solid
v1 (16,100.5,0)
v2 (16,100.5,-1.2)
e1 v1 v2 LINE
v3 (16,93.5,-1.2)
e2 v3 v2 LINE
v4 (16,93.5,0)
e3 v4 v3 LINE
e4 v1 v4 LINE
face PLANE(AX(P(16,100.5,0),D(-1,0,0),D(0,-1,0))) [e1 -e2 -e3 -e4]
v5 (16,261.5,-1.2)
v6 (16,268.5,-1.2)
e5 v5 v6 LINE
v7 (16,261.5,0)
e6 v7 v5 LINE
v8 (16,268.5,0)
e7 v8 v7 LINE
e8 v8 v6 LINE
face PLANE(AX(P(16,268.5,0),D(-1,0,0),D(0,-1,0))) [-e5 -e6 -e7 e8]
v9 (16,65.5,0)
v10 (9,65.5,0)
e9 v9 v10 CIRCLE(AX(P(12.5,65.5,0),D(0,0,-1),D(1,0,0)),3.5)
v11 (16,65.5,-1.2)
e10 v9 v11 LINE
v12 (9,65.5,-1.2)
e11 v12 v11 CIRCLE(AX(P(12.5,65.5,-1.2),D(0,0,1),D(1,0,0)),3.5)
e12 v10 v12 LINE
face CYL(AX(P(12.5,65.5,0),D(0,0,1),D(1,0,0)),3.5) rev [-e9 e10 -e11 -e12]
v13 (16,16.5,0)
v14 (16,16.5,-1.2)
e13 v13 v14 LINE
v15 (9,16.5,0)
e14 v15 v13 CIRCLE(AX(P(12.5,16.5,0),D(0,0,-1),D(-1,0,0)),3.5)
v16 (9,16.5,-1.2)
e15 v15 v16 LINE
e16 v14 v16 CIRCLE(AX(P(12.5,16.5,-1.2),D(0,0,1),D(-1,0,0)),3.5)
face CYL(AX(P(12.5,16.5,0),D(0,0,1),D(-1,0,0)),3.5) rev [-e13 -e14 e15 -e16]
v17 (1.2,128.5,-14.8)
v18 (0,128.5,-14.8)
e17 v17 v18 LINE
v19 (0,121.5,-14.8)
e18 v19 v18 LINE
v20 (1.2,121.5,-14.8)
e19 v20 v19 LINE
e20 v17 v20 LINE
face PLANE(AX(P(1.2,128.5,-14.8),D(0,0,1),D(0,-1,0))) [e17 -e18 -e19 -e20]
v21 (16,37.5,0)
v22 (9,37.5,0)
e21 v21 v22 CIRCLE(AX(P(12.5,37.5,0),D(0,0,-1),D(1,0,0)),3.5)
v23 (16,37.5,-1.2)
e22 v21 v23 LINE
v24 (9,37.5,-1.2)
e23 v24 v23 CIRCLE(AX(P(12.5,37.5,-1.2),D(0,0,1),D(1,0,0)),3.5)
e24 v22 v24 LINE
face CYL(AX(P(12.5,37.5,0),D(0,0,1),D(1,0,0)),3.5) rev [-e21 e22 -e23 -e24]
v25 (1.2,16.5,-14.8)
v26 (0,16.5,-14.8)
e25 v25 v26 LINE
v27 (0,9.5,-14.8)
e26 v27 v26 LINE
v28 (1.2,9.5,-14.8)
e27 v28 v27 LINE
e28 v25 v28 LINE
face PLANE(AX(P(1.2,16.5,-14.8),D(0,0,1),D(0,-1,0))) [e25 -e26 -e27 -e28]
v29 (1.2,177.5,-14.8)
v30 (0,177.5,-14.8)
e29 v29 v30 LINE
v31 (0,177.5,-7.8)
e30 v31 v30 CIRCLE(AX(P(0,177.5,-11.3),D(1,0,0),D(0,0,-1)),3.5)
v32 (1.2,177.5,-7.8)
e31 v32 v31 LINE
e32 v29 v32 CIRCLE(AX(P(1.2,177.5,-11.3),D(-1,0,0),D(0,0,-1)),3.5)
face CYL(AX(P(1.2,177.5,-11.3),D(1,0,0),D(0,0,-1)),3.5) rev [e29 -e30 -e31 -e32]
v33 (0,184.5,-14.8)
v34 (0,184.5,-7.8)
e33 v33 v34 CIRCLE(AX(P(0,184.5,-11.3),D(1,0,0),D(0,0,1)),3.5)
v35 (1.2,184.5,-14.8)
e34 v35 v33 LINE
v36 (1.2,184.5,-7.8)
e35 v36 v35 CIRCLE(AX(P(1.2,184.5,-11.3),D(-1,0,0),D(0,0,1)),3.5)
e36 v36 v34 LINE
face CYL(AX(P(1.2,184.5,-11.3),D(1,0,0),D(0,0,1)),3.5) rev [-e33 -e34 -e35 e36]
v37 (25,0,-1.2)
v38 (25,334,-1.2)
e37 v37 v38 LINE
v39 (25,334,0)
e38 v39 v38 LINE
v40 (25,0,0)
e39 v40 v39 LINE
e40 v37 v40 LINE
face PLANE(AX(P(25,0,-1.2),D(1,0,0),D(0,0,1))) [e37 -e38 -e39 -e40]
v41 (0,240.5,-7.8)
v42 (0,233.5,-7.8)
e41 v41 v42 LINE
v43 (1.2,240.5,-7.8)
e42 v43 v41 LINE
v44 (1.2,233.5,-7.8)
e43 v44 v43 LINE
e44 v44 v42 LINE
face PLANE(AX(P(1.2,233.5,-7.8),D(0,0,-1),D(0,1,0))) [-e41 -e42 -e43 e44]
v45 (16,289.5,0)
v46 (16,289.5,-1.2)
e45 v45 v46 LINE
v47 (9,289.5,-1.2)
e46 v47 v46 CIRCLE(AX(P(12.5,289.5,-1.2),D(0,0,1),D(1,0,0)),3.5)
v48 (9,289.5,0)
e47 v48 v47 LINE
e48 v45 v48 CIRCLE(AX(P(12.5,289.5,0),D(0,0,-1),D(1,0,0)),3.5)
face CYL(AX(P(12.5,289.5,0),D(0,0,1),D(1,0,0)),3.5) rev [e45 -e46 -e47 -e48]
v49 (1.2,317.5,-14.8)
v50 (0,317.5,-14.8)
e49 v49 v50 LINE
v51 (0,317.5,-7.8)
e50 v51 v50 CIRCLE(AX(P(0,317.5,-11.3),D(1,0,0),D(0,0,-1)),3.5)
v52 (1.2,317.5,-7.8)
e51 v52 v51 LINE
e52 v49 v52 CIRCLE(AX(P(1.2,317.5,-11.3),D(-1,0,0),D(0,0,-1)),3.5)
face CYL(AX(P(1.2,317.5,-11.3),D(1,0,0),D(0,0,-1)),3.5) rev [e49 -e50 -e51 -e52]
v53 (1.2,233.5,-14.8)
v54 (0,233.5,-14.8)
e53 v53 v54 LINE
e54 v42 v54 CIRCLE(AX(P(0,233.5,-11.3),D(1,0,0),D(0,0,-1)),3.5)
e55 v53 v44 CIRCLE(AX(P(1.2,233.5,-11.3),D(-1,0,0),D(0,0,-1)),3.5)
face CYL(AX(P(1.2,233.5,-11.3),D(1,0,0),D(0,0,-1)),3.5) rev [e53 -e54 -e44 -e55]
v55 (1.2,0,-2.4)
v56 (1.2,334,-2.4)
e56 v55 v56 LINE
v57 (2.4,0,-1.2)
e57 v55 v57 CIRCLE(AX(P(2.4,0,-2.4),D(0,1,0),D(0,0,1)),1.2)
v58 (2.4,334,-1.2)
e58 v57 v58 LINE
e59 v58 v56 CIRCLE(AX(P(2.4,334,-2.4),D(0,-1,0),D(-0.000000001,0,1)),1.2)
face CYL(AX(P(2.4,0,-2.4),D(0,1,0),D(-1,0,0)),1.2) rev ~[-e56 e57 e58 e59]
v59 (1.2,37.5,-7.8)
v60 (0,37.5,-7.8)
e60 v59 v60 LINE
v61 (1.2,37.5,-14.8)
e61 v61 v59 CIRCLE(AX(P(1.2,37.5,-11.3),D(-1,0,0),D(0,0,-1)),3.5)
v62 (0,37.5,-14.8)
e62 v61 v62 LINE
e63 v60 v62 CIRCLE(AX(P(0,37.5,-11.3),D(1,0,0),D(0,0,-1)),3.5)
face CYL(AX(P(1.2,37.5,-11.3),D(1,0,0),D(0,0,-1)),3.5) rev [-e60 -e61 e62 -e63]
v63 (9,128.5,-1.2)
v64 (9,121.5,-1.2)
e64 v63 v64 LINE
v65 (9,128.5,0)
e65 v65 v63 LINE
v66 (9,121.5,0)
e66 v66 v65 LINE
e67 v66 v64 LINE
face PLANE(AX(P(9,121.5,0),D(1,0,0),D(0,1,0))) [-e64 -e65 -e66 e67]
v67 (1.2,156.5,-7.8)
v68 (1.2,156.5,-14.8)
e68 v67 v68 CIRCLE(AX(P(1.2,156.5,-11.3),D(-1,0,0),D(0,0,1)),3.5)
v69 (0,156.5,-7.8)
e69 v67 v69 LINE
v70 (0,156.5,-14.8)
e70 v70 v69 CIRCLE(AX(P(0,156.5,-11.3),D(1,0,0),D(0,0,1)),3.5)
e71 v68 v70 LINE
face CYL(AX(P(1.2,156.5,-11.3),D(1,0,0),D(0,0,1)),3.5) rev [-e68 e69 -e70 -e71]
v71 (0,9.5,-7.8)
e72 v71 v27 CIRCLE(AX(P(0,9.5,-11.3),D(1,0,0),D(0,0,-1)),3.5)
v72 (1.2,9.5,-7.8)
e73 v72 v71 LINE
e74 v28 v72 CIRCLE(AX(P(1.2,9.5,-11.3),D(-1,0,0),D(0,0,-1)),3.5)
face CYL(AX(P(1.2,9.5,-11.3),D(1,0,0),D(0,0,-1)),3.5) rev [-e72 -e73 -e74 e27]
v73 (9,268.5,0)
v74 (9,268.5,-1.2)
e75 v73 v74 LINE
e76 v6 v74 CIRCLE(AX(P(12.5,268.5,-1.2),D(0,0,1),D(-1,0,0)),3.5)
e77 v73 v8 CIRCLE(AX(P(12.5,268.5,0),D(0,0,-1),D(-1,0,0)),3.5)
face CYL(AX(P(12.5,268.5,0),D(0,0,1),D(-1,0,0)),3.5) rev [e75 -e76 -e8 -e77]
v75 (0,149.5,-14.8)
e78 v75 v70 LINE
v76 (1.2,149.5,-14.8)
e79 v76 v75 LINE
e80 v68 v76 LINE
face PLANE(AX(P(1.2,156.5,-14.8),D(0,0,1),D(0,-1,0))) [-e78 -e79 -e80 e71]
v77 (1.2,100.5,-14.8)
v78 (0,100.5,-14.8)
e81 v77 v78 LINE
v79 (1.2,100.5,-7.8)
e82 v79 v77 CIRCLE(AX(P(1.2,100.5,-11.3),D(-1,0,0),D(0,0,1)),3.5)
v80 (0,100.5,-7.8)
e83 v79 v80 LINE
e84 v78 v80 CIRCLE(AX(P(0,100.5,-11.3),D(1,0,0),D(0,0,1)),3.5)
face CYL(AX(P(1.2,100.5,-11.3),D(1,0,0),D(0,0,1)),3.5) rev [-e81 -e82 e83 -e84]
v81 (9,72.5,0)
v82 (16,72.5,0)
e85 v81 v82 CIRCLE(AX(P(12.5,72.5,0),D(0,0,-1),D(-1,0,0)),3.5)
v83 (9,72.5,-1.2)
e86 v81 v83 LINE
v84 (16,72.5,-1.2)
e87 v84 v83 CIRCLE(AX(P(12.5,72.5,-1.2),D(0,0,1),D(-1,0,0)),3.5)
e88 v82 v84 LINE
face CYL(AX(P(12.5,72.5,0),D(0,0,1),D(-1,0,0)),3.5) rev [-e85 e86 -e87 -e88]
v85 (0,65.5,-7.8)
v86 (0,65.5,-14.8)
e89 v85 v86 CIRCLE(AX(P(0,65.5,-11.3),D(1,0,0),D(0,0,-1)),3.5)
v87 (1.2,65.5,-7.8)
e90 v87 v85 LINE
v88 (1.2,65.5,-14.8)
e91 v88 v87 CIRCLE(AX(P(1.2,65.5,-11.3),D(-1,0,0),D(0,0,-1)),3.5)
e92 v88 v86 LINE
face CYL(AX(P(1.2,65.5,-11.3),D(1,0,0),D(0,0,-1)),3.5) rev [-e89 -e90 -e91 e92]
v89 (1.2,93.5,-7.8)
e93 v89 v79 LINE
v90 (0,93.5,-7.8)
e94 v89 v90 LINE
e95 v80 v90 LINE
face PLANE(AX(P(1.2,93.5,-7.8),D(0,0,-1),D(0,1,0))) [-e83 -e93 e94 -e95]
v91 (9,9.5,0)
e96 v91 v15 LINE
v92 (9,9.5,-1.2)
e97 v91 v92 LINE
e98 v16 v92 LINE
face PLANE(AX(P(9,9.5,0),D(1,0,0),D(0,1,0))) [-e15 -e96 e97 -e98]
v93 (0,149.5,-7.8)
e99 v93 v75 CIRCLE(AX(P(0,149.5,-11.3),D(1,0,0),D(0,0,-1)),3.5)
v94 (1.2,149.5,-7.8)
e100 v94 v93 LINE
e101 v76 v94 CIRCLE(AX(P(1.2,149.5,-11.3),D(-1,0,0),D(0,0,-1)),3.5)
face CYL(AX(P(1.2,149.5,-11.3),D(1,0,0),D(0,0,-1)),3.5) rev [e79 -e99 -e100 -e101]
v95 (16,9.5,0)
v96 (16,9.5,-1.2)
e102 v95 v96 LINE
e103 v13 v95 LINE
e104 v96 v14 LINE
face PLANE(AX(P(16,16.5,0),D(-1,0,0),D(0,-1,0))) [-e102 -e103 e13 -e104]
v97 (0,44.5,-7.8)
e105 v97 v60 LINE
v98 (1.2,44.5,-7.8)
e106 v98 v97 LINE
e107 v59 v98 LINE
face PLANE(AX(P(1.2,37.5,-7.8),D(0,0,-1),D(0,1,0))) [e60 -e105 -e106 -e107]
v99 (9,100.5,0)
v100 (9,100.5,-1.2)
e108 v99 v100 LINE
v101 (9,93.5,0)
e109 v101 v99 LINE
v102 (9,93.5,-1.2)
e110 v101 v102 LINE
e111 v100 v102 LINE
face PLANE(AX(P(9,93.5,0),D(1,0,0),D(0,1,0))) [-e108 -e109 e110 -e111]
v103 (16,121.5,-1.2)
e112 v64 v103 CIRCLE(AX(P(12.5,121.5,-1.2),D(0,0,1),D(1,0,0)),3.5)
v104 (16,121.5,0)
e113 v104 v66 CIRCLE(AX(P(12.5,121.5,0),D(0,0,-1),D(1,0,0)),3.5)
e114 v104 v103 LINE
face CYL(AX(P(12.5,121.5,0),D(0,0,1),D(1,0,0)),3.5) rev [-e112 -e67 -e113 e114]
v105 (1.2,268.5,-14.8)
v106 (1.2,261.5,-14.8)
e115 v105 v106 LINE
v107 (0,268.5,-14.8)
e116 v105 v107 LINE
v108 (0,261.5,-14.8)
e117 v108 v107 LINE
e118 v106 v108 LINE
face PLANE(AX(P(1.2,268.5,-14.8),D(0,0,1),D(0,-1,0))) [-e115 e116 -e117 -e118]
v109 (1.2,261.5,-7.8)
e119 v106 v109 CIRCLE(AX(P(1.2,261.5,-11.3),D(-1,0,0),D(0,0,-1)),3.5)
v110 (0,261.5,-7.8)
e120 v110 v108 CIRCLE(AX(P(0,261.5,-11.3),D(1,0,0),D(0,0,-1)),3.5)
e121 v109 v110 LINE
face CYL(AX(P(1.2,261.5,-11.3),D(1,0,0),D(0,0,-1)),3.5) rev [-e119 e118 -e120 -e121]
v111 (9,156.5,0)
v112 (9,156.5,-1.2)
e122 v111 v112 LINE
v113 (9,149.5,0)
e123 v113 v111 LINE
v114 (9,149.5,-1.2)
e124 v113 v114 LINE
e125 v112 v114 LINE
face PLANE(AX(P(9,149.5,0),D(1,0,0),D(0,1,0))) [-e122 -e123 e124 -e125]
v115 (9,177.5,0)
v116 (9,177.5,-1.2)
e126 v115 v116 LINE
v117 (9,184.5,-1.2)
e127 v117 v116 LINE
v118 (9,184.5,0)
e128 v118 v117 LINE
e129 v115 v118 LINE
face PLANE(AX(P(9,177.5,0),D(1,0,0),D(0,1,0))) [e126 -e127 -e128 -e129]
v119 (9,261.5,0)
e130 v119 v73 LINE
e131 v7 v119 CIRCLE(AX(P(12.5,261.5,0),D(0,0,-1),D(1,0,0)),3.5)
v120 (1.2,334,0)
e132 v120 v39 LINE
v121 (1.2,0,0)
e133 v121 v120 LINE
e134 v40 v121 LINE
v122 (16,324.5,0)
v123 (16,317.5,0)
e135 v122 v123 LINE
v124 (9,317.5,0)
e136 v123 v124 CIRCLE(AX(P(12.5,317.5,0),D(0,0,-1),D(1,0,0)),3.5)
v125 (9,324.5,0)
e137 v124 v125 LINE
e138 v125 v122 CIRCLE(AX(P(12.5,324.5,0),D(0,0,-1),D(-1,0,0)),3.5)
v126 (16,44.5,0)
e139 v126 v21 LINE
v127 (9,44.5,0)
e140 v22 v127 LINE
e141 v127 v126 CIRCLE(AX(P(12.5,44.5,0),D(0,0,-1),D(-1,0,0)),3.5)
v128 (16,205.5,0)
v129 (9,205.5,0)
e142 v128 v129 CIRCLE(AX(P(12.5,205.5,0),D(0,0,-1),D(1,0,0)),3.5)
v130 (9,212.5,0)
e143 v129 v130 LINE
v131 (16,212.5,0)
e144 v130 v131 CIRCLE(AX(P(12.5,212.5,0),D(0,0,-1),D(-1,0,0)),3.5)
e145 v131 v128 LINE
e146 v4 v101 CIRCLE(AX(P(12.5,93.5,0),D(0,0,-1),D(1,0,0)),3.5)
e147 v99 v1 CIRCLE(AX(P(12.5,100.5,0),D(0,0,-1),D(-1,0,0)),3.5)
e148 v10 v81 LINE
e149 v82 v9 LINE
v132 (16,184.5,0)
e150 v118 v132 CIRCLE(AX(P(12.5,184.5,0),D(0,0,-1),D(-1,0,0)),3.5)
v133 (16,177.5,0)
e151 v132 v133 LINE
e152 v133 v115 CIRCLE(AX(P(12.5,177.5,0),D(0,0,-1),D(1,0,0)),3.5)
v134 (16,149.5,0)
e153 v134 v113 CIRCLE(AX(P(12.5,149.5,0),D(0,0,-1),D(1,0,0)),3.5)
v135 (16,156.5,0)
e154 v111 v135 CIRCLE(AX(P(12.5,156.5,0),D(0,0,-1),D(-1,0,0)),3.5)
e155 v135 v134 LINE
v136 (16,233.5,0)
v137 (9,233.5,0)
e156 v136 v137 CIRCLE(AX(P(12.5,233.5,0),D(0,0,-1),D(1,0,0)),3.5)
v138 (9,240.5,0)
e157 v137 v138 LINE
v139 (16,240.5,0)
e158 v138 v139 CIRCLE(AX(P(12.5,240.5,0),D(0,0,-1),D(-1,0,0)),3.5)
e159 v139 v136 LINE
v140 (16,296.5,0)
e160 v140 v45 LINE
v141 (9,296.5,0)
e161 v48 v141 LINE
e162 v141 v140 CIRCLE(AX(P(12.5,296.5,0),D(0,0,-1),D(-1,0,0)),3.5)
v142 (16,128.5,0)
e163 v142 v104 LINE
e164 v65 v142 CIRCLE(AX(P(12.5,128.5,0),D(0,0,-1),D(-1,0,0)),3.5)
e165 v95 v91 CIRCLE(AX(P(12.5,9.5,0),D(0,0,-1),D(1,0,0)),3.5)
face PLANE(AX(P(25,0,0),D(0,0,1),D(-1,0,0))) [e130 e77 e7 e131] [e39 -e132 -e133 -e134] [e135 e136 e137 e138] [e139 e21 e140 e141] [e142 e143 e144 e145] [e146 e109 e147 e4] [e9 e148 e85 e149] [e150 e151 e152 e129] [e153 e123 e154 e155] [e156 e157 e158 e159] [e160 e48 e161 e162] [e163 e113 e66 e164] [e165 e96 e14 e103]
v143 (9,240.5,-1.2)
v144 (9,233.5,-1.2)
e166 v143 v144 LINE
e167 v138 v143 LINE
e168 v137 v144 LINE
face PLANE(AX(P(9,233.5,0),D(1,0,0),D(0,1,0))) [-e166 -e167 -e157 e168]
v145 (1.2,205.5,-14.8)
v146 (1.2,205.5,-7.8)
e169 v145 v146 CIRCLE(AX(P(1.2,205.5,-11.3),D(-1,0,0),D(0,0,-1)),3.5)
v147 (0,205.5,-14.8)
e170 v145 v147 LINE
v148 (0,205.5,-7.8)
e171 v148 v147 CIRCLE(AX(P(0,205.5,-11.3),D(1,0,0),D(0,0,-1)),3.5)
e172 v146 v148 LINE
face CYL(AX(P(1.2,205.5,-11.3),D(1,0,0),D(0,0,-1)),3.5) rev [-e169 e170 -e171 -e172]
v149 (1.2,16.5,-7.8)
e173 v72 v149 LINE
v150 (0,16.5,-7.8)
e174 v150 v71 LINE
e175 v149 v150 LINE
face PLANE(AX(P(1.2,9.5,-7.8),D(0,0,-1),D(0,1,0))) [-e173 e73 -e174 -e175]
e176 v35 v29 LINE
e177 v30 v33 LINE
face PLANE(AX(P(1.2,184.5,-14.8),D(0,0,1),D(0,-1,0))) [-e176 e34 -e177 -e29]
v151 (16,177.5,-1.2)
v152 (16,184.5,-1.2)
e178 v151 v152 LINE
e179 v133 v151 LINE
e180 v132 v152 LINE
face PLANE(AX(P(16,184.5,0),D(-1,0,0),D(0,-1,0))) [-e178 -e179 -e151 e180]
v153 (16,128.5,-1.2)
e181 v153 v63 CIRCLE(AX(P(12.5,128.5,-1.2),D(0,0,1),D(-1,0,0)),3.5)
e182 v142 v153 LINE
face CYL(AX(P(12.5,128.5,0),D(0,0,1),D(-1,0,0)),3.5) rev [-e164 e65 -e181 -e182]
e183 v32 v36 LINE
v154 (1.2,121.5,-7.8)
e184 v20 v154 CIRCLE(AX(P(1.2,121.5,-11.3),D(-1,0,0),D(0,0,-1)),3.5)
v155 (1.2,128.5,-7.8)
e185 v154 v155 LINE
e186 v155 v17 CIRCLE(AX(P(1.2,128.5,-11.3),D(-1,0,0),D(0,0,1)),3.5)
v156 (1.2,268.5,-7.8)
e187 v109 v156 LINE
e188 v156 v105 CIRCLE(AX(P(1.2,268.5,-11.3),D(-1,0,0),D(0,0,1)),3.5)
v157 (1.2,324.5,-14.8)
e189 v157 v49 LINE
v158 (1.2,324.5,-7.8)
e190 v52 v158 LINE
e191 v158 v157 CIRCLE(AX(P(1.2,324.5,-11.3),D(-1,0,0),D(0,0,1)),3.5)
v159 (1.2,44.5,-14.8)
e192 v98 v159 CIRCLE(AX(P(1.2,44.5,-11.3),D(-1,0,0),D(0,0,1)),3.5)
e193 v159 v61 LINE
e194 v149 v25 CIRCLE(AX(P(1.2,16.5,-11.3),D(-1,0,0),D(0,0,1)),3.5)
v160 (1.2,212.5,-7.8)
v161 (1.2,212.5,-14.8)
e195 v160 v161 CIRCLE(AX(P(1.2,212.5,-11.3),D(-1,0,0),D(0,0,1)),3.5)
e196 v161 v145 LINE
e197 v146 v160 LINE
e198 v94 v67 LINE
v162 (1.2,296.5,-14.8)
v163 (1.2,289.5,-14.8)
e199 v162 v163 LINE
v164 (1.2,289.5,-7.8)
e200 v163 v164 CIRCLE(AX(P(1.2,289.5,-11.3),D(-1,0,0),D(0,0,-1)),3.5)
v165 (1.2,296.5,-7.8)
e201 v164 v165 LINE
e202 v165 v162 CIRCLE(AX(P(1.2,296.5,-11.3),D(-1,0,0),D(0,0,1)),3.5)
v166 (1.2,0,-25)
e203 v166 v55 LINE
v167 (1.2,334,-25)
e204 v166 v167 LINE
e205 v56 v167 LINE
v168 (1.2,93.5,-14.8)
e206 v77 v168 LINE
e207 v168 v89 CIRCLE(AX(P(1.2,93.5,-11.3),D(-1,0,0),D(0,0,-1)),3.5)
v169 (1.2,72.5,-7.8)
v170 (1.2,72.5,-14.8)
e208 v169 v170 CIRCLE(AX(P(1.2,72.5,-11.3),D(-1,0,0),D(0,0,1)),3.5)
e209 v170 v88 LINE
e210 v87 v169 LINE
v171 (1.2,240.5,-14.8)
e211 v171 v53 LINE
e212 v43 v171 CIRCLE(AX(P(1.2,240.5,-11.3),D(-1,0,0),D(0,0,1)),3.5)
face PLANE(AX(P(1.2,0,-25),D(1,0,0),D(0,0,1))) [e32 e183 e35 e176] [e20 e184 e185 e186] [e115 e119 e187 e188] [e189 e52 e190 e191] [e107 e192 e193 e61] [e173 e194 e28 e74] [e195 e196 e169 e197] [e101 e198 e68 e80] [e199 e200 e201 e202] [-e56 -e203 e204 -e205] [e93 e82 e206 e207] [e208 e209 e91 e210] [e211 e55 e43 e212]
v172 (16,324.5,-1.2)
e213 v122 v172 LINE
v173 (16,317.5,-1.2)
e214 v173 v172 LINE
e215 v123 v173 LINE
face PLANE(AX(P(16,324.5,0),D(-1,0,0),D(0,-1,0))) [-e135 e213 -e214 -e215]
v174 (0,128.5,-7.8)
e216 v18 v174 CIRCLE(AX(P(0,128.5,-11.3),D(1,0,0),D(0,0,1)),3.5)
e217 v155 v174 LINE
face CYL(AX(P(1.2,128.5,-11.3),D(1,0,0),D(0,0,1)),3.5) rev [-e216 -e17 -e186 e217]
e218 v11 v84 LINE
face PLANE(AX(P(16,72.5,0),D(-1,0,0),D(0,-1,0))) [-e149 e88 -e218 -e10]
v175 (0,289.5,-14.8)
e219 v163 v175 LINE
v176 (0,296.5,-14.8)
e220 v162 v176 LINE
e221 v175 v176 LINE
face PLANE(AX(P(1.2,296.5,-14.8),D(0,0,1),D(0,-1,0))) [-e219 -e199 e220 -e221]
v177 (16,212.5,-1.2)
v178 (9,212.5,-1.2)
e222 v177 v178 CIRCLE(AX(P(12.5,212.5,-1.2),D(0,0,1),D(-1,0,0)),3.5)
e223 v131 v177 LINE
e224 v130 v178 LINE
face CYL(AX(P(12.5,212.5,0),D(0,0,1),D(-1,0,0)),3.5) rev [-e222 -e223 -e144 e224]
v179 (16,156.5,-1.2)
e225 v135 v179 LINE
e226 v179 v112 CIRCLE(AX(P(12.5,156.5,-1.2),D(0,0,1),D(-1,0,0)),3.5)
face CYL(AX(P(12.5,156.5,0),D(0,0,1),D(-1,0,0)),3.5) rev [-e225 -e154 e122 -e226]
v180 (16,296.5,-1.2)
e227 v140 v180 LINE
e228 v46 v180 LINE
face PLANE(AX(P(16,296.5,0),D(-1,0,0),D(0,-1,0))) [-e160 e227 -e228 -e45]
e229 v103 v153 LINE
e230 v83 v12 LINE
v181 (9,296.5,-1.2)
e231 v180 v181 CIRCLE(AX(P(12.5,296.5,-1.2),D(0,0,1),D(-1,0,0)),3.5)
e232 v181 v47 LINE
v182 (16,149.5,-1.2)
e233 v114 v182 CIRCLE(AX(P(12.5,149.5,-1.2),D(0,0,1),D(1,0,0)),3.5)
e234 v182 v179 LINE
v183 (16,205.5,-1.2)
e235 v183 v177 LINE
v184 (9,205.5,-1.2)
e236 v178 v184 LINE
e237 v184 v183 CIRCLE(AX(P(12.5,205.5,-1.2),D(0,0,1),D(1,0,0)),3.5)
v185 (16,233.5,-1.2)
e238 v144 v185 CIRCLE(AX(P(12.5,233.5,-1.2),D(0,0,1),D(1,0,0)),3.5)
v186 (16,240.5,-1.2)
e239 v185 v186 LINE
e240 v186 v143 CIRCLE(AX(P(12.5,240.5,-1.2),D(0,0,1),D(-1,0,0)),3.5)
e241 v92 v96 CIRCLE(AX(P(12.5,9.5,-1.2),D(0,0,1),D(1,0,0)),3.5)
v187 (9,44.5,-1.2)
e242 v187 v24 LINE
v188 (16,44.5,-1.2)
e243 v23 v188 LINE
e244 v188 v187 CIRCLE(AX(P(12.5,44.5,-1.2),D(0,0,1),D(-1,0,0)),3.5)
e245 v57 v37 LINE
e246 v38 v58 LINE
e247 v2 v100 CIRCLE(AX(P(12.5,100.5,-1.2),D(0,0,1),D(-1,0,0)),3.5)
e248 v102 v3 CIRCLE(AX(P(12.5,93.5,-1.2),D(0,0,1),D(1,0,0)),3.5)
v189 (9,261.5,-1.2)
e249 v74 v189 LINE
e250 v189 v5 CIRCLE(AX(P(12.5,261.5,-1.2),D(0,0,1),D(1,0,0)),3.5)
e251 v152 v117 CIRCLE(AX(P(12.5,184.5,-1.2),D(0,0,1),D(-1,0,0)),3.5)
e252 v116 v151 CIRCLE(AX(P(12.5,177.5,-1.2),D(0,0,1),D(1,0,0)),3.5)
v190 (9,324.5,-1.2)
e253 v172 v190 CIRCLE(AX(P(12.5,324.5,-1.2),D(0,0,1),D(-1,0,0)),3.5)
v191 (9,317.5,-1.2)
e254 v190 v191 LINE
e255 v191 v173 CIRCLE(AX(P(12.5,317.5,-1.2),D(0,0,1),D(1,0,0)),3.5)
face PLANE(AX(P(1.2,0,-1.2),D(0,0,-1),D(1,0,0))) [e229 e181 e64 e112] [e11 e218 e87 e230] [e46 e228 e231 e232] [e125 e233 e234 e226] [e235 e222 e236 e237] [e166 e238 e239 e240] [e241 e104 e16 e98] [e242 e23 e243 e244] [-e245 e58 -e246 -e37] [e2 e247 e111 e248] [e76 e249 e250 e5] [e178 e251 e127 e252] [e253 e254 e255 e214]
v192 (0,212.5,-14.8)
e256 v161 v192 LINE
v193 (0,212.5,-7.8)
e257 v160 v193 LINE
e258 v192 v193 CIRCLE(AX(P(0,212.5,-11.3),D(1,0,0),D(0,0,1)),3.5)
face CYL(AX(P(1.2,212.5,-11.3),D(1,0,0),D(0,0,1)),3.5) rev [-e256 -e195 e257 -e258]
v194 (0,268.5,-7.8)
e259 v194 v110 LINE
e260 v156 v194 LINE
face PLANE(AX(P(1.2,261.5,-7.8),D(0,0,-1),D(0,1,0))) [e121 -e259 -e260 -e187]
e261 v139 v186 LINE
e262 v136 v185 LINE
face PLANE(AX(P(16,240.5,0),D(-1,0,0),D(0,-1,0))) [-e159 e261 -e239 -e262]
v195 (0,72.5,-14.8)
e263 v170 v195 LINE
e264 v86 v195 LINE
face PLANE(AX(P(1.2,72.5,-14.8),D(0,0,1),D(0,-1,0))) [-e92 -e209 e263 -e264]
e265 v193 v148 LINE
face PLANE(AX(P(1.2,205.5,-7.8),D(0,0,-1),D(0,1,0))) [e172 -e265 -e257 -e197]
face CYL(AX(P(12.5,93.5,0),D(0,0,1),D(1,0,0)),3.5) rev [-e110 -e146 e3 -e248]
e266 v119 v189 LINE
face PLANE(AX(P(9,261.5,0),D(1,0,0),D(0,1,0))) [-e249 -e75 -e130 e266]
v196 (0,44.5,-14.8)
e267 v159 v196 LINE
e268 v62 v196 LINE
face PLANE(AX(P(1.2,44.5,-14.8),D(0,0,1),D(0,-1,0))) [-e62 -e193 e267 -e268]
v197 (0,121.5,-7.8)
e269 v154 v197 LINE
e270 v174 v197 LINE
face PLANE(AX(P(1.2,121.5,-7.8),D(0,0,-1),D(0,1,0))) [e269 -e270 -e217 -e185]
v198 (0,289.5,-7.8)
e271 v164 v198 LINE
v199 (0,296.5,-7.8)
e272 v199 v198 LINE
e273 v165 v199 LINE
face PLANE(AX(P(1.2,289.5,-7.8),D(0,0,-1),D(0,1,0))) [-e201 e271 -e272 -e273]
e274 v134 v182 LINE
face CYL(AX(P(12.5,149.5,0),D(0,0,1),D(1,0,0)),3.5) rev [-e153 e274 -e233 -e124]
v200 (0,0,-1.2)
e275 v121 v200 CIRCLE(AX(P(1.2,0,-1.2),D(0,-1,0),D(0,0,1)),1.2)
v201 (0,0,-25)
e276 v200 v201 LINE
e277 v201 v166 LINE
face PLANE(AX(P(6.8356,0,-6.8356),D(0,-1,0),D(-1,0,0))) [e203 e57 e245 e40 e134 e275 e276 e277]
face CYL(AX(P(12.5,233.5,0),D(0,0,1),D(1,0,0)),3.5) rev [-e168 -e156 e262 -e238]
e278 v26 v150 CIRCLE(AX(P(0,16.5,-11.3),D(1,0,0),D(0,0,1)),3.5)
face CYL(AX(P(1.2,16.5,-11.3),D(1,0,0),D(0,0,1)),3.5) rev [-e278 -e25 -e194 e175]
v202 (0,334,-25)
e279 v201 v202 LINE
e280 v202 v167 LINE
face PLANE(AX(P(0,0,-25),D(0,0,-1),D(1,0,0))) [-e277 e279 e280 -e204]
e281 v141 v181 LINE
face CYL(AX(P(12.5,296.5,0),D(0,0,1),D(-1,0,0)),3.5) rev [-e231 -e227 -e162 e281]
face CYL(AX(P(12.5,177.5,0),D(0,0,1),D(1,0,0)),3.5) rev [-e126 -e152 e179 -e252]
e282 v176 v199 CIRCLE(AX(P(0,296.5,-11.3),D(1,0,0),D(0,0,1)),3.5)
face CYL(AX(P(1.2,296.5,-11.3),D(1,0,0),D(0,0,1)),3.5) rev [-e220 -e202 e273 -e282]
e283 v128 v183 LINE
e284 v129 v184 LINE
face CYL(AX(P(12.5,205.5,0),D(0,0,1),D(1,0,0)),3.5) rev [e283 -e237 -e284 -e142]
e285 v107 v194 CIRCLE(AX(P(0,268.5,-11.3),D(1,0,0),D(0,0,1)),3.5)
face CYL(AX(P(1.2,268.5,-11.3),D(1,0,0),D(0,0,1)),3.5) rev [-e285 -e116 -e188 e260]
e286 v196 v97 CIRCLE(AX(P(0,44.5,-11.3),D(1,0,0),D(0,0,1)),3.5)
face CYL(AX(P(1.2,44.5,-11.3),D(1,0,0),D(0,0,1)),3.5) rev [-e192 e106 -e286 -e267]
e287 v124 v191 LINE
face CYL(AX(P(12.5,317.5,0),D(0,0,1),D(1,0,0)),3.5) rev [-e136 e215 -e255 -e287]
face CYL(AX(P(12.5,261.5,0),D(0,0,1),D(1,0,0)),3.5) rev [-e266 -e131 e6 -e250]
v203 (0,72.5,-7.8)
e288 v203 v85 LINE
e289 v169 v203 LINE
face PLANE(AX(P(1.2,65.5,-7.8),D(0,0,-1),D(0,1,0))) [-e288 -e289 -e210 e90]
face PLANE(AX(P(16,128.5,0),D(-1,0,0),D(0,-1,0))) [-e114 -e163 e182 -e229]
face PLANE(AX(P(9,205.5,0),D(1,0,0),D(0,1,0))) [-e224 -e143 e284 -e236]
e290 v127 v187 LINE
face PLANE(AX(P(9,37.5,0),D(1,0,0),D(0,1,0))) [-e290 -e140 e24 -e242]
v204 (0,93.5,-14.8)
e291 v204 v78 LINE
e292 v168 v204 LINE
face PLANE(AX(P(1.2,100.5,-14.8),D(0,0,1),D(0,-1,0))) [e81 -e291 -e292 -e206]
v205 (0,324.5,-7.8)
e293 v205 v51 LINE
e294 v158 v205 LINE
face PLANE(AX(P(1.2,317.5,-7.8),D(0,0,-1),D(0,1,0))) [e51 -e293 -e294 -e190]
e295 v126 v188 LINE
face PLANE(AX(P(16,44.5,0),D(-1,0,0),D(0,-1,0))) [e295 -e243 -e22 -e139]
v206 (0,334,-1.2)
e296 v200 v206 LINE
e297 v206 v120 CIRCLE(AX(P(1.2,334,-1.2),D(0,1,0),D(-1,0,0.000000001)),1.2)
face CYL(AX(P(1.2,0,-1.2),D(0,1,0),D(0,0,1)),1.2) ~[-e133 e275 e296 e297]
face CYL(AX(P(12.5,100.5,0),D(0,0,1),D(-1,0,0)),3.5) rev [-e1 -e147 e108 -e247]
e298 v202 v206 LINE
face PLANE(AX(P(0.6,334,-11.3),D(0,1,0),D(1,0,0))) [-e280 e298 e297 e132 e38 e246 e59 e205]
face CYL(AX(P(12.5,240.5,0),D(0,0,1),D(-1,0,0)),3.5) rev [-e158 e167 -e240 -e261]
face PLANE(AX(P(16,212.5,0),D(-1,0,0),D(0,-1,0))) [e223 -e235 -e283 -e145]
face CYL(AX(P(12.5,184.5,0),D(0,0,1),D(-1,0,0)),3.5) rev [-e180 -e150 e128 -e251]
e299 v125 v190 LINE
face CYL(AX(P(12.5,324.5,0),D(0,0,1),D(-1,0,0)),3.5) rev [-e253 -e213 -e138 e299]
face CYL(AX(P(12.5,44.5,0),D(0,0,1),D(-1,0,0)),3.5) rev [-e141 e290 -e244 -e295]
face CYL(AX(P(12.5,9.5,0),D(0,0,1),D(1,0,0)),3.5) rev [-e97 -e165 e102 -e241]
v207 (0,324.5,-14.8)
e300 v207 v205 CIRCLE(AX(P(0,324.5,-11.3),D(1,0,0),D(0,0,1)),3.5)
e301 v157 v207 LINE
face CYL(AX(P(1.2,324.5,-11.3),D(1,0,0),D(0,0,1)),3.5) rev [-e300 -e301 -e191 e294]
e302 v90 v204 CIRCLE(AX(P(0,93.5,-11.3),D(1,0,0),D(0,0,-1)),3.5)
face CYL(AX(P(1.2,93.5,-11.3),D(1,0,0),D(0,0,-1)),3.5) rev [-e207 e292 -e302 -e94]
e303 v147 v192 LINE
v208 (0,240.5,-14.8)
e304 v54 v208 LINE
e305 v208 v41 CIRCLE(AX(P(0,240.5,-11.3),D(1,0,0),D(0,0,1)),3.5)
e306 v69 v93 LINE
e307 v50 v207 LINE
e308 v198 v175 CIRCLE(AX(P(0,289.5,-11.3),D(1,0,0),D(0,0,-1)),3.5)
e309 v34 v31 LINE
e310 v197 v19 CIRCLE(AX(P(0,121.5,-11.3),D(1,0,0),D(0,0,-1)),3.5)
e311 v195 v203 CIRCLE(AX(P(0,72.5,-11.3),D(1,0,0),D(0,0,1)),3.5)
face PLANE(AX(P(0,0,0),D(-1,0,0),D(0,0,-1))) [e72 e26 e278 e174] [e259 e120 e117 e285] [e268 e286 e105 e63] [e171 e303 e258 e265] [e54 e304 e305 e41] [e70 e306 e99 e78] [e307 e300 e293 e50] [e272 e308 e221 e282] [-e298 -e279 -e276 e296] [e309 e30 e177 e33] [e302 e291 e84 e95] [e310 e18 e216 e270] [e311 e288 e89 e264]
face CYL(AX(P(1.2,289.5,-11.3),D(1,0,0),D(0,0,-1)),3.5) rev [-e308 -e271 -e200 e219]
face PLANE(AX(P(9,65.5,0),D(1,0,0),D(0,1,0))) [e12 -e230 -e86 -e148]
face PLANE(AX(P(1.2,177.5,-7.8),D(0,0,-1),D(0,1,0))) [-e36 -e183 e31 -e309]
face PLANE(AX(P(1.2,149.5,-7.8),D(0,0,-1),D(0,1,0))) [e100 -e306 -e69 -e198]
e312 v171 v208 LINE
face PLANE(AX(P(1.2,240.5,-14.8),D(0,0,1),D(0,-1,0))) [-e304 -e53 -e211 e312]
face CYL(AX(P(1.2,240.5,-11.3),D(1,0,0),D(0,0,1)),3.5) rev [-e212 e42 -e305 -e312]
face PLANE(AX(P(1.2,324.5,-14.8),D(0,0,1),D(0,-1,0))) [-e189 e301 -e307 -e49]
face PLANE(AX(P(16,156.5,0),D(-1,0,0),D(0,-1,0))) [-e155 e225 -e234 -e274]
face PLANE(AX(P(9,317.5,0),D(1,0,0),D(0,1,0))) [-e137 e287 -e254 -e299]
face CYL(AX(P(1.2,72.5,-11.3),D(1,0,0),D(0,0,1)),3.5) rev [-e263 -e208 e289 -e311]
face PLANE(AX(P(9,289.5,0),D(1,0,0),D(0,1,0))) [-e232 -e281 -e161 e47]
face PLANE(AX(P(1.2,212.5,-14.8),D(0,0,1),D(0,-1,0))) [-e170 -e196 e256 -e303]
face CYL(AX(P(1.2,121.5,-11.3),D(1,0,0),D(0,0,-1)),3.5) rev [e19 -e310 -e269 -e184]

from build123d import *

# Parameters (mm, degrees)
EXTRUDE_THIN1_DEPTH       = 350
FILLET1_R                 = 1.2
CUT_EXTRUDE1_DEPTH        = 26
LPATTERN1_COUNT           = 14
LPATTERN1_PITCH           = 28
CIRPATTERN1_COUNT         = 2
CIRPATTERN1_ANGLE         = 270
CIRPATTERN1_COPY_1_DEPTH  = 26
CIRPATTERN1_COPY_2_DEPTH  = 26
CIRPATTERN1_COPY_3_DEPTH  = 26
CIRPATTERN1_COPY_4_DEPTH  = 26
CIRPATTERN1_COPY_5_DEPTH  = 26
CIRPATTERN1_COPY_6_DEPTH  = 26
CIRPATTERN1_COPY_7_DEPTH  = 26
CIRPATTERN1_COPY_8_DEPTH  = 26
CIRPATTERN1_COPY_9_DEPTH  = 26
CIRPATTERN1_COPY_10_DEPTH = 26
CIRPATTERN1_COPY_11_DEPTH = 26
CIRPATTERN1_COPY_12_DEPTH = 26
CIRPATTERN1_COPY_13_DEPTH = 26
SKETCH5_W                 = 1.2
SKETCH5_H                 = 7
SKETCH5_H_2               = 10.2
SKETCH5_W_2               = 9
SKETCH5_H_3               = 1.2
CUT_EXTRUDE3_DEPTH        = 16


with BuildPart() as part:
    # Sketch1 → Extrude-Thin1 (new body)
    with BuildSketch(Plane(origin=(0, 0, 0), x_dir=(1, 0, 0), z_dir=(0, 1, 0))):
        Polygon((25, 0), (0, 0), (0, 25), (1.2, 25), (1.2, 1.2), (25, 1.2), align=None)
    extrude(amount=EXTRUDE_THIN1_DEPTH)

    # Fillet1
    fillet1_edges = [part.edges().sort_by_distance(p)[0] for p in [
        (0, 175, 0),
        (1.2, 175, -1.2),
    ]]
    fillet(fillet1_edges, radius=FILLET1_R)

    # Sketch2 → Cut-Extrude1 (cut, through all)
    with BuildSketch(Plane.XY):
        with BuildLine():
            Line((9, 9.5), (9, 16.5))
            ThreePointArc((9, 16.5), (12.5, 20), (16, 16.5))
            Line((16, 16.5), (16, 9.5))
            ThreePointArc((16, 9.5), (12.5, 6), (9, 9.5))
        make_face()
    cut_extrude1 = extrude(amount=-CUT_EXTRUDE1_DEPTH, mode=Mode.SUBTRACT)

    # LPattern1: Cut-Extrude1 ×14
    with Locations(*[(0, i * LPATTERN1_PITCH, 0) for i in range(1, LPATTERN1_COUNT)]):
        add(cut_extrude1, mode=Mode.SUBTRACT)

    # CirPattern1: Cut-Extrude1 ×2 about axis
    cirpattern1_axis = Axis((1.2, 350, 0), (0, -1, 0))
    for i in range(1, CIRPATTERN1_COUNT):
        add(cut_extrude1.rotate(cirpattern1_axis, i * CIRPATTERN1_ANGLE / (CIRPATTERN1_COUNT - 1)), mode=Mode.SUBTRACT)

    # CirPattern1 copy 1 sketch → CirPattern1 copy 1 (cut, through all)
    with BuildSketch(Plane(origin=(1.2, 28, 1.2), x_dir=(0, 0, -1), z_dir=(1, 0, 0))):
        with BuildLine():
            Line((9, 9.5), (9, 16.5))
            ThreePointArc((9, 16.5), (12.5, 20), (16, 16.5))
            Line((16, 16.5), (16, 9.5))
            ThreePointArc((16, 9.5), (12.5, 6), (9, 9.5))
        make_face()
    extrude(amount=-CIRPATTERN1_COPY_1_DEPTH, mode=Mode.SUBTRACT)

    # CirPattern1 copy 2 sketch → CirPattern1 copy 2 (cut, through all)
    with BuildSketch(Plane(origin=(1.2, 56, 1.2), x_dir=(0, 0, -1), z_dir=(1, 0, 0))):
        with BuildLine():
            Line((9, 9.5), (9, 16.5))
            ThreePointArc((9, 16.5), (12.5, 20), (16, 16.5))
            Line((16, 16.5), (16, 9.5))
            ThreePointArc((16, 9.5), (12.5, 6), (9, 9.5))
        make_face()
    extrude(amount=-CIRPATTERN1_COPY_2_DEPTH, mode=Mode.SUBTRACT)

    # CirPattern1 copy 3 sketch → CirPattern1 copy 3 (cut, through all)
    with BuildSketch(Plane(origin=(1.2, 84, 1.2), x_dir=(0, 0, -1), z_dir=(1, 0, 0))):
        with BuildLine():
            Line((9, 9.5), (9, 16.5))
            ThreePointArc((9, 16.5), (12.5, 20), (16, 16.5))
            Line((16, 16.5), (16, 9.5))
            ThreePointArc((16, 9.5), (12.5, 6), (9, 9.5))
        make_face()
    extrude(amount=-CIRPATTERN1_COPY_3_DEPTH, mode=Mode.SUBTRACT)

    # CirPattern1 copy 4 sketch → CirPattern1 copy 4 (cut, through all)
    with BuildSketch(Plane(origin=(1.2, 112, 1.2), x_dir=(0, 0, -1), z_dir=(1, 0, 0))):
        with BuildLine():
            Line((9, 9.5), (9, 16.5))
            ThreePointArc((9, 16.5), (12.5, 20), (16, 16.5))
            Line((16, 16.5), (16, 9.5))
            ThreePointArc((16, 9.5), (12.5, 6), (9, 9.5))
        make_face()
    extrude(amount=-CIRPATTERN1_COPY_4_DEPTH, mode=Mode.SUBTRACT)

    # CirPattern1 copy 5 sketch → CirPattern1 copy 5 (cut, through all)
    with BuildSketch(Plane(origin=(1.2, 140, 1.2), x_dir=(0, 0, -1), z_dir=(1, 0, 0))):
        with BuildLine():
            Line((9, 9.5), (9, 16.5))
            ThreePointArc((9, 16.5), (12.5, 20), (16, 16.5))
            Line((16, 16.5), (16, 9.5))
            ThreePointArc((16, 9.5), (12.5, 6), (9, 9.5))
        make_face()
    extrude(amount=-CIRPATTERN1_COPY_5_DEPTH, mode=Mode.SUBTRACT)

    # CirPattern1 copy 6 sketch → CirPattern1 copy 6 (cut, through all)
    with BuildSketch(Plane(origin=(1.2, 168, 1.2), x_dir=(0, 0, -1), z_dir=(1, 0, 0))):
        with BuildLine():
            Line((9, 9.5), (9, 16.5))
            ThreePointArc((9, 16.5), (12.5, 20), (16, 16.5))
            Line((16, 16.5), (16, 9.5))
            ThreePointArc((16, 9.5), (12.5, 6), (9, 9.5))
        make_face()
    extrude(amount=-CIRPATTERN1_COPY_6_DEPTH, mode=Mode.SUBTRACT)

    # CirPattern1 copy 7 sketch → CirPattern1 copy 7 (cut, through all)
    with BuildSketch(Plane(origin=(1.2, 196, 1.2), x_dir=(0, 0, -1), z_dir=(1, 0, 0))):
        with BuildLine():
            Line((9, 9.5), (9, 16.5))
            ThreePointArc((9, 16.5), (12.5, 20), (16, 16.5))
            Line((16, 16.5), (16, 9.5))
            ThreePointArc((16, 9.5), (12.5, 6), (9, 9.5))
        make_face()
    extrude(amount=-CIRPATTERN1_COPY_7_DEPTH, mode=Mode.SUBTRACT)

    # CirPattern1 copy 8 sketch → CirPattern1 copy 8 (cut, through all)
    with BuildSketch(Plane(origin=(1.2, 224, 1.2), x_dir=(0, 0, -1), z_dir=(1, 0, 0))):
        with BuildLine():
            Line((9, 9.5), (9, 16.5))
            ThreePointArc((9, 16.5), (12.5, 20), (16, 16.5))
            Line((16, 16.5), (16, 9.5))
            ThreePointArc((16, 9.5), (12.5, 6), (9, 9.5))
        make_face()
    extrude(amount=-CIRPATTERN1_COPY_8_DEPTH, mode=Mode.SUBTRACT)

    # CirPattern1 copy 9 sketch → CirPattern1 copy 9 (cut, through all)
    with BuildSketch(Plane(origin=(1.2, 252, 1.2), x_dir=(0, 0, -1), z_dir=(1, 0, 0))):
        with BuildLine():
            Line((9, 9.5), (9, 16.5))
            ThreePointArc((9, 16.5), (12.5, 20), (16, 16.5))
            Line((16, 16.5), (16, 9.5))
            ThreePointArc((16, 9.5), (12.5, 6), (9, 9.5))
        make_face()
    extrude(amount=-CIRPATTERN1_COPY_9_DEPTH, mode=Mode.SUBTRACT)

    # CirPattern1 copy 10 sketch → CirPattern1 copy 10 (cut, through all)
    with BuildSketch(Plane(origin=(1.2, 280, 1.2), x_dir=(0, 0, -1), z_dir=(1, 0, 0))):
        with BuildLine():
            Line((9, 9.5), (9, 16.5))
            ThreePointArc((9, 16.5), (12.5, 20), (16, 16.5))
            Line((16, 16.5), (16, 9.5))
            ThreePointArc((16, 9.5), (12.5, 6), (9, 9.5))
        make_face()
    extrude(amount=-CIRPATTERN1_COPY_10_DEPTH, mode=Mode.SUBTRACT)

    # CirPattern1 copy 11 sketch → CirPattern1 copy 11 (cut, through all)
    with BuildSketch(Plane(origin=(1.2, 308, 1.2), x_dir=(0, 0, -1), z_dir=(1, 0, 0))):
        with BuildLine():
            Line((9, 9.5), (9, 16.5))
            ThreePointArc((9, 16.5), (12.5, 20), (16, 16.5))
            Line((16, 16.5), (16, 9.5))
            ThreePointArc((16, 9.5), (12.5, 6), (9, 9.5))
        make_face()
    extrude(amount=-CIRPATTERN1_COPY_11_DEPTH, mode=Mode.SUBTRACT)

    # CirPattern1 copy 12 sketch → CirPattern1 copy 12 (cut, through all)
    with BuildSketch(Plane(origin=(1.2, 336, 1.2), x_dir=(0, 0, -1), z_dir=(1, 0, 0))):
        with BuildLine():
            Line((9, 9.5), (9, 16.5))
            ThreePointArc((9, 16.5), (12.5, 20), (16, 16.5))
            Line((16, 16.5), (16, 9.5))
            ThreePointArc((16, 9.5), (12.5, 6), (9, 9.5))
        make_face()
    extrude(amount=-CIRPATTERN1_COPY_12_DEPTH, mode=Mode.SUBTRACT)

    # CirPattern1 copy 13 sketch → CirPattern1 copy 13 (cut, through all)
    with BuildSketch(Plane(origin=(1.2, 364, 1.2), x_dir=(0, 0, -1), z_dir=(1, 0, 0))):
        with BuildLine():
            Line((9, 9.5), (9, 16.5))
            ThreePointArc((9, 16.5), (12.5, 20), (16, 16.5))
            Line((16, 16.5), (16, 9.5))
            ThreePointArc((16, 9.5), (12.5, 6), (9, 9.5))
        make_face()
    extrude(amount=-CIRPATTERN1_COPY_13_DEPTH, mode=Mode.SUBTRACT)

    # Sketch5 → Cut-Extrude3 (cut)
    with BuildSketch(Plane(origin=(0, 350, 0), x_dir=(1, 0, 0), z_dir=(0, 1, 0))):
        with Locations((0.6, 11.3)):
            Rectangle(SKETCH5_W, SKETCH5_H)
        with Locations((0.6, 19.9)):
            Rectangle(SKETCH5_W, SKETCH5_H_2)
        with BuildLine():
            Line((1.2, 7.8), (0, 7.8))
            Line((0, 7.8), (0, 1.2))
            ThreePointArc((0, 1.2), (0.351471863, 0.351471863), (1.2, 0))
            Line((1.2, 0), (9, 0))
            Line((9, 0), (9, 1.2))
            Line((9, 1.2), (2.4, 1.2))
            ThreePointArc((2.4, 1.2), (1.551471863, 1.551471863), (1.2, 2.4))
            Line((1.2, 2.4), (1.2, 7.8))
        make_face()
        Polygon((9, 1.2), (9, 0), (16, 0), (16, 1.2), (10.440408388, 1.2), align=None)
        with Locations((20.5, 0.6)):
            Rectangle(SKETCH5_W_2, SKETCH5_H_3)
    extrude(amount=-CUT_EXTRUDE3_DEPTH, mode=Mode.SUBTRACT)


solid = part.part
